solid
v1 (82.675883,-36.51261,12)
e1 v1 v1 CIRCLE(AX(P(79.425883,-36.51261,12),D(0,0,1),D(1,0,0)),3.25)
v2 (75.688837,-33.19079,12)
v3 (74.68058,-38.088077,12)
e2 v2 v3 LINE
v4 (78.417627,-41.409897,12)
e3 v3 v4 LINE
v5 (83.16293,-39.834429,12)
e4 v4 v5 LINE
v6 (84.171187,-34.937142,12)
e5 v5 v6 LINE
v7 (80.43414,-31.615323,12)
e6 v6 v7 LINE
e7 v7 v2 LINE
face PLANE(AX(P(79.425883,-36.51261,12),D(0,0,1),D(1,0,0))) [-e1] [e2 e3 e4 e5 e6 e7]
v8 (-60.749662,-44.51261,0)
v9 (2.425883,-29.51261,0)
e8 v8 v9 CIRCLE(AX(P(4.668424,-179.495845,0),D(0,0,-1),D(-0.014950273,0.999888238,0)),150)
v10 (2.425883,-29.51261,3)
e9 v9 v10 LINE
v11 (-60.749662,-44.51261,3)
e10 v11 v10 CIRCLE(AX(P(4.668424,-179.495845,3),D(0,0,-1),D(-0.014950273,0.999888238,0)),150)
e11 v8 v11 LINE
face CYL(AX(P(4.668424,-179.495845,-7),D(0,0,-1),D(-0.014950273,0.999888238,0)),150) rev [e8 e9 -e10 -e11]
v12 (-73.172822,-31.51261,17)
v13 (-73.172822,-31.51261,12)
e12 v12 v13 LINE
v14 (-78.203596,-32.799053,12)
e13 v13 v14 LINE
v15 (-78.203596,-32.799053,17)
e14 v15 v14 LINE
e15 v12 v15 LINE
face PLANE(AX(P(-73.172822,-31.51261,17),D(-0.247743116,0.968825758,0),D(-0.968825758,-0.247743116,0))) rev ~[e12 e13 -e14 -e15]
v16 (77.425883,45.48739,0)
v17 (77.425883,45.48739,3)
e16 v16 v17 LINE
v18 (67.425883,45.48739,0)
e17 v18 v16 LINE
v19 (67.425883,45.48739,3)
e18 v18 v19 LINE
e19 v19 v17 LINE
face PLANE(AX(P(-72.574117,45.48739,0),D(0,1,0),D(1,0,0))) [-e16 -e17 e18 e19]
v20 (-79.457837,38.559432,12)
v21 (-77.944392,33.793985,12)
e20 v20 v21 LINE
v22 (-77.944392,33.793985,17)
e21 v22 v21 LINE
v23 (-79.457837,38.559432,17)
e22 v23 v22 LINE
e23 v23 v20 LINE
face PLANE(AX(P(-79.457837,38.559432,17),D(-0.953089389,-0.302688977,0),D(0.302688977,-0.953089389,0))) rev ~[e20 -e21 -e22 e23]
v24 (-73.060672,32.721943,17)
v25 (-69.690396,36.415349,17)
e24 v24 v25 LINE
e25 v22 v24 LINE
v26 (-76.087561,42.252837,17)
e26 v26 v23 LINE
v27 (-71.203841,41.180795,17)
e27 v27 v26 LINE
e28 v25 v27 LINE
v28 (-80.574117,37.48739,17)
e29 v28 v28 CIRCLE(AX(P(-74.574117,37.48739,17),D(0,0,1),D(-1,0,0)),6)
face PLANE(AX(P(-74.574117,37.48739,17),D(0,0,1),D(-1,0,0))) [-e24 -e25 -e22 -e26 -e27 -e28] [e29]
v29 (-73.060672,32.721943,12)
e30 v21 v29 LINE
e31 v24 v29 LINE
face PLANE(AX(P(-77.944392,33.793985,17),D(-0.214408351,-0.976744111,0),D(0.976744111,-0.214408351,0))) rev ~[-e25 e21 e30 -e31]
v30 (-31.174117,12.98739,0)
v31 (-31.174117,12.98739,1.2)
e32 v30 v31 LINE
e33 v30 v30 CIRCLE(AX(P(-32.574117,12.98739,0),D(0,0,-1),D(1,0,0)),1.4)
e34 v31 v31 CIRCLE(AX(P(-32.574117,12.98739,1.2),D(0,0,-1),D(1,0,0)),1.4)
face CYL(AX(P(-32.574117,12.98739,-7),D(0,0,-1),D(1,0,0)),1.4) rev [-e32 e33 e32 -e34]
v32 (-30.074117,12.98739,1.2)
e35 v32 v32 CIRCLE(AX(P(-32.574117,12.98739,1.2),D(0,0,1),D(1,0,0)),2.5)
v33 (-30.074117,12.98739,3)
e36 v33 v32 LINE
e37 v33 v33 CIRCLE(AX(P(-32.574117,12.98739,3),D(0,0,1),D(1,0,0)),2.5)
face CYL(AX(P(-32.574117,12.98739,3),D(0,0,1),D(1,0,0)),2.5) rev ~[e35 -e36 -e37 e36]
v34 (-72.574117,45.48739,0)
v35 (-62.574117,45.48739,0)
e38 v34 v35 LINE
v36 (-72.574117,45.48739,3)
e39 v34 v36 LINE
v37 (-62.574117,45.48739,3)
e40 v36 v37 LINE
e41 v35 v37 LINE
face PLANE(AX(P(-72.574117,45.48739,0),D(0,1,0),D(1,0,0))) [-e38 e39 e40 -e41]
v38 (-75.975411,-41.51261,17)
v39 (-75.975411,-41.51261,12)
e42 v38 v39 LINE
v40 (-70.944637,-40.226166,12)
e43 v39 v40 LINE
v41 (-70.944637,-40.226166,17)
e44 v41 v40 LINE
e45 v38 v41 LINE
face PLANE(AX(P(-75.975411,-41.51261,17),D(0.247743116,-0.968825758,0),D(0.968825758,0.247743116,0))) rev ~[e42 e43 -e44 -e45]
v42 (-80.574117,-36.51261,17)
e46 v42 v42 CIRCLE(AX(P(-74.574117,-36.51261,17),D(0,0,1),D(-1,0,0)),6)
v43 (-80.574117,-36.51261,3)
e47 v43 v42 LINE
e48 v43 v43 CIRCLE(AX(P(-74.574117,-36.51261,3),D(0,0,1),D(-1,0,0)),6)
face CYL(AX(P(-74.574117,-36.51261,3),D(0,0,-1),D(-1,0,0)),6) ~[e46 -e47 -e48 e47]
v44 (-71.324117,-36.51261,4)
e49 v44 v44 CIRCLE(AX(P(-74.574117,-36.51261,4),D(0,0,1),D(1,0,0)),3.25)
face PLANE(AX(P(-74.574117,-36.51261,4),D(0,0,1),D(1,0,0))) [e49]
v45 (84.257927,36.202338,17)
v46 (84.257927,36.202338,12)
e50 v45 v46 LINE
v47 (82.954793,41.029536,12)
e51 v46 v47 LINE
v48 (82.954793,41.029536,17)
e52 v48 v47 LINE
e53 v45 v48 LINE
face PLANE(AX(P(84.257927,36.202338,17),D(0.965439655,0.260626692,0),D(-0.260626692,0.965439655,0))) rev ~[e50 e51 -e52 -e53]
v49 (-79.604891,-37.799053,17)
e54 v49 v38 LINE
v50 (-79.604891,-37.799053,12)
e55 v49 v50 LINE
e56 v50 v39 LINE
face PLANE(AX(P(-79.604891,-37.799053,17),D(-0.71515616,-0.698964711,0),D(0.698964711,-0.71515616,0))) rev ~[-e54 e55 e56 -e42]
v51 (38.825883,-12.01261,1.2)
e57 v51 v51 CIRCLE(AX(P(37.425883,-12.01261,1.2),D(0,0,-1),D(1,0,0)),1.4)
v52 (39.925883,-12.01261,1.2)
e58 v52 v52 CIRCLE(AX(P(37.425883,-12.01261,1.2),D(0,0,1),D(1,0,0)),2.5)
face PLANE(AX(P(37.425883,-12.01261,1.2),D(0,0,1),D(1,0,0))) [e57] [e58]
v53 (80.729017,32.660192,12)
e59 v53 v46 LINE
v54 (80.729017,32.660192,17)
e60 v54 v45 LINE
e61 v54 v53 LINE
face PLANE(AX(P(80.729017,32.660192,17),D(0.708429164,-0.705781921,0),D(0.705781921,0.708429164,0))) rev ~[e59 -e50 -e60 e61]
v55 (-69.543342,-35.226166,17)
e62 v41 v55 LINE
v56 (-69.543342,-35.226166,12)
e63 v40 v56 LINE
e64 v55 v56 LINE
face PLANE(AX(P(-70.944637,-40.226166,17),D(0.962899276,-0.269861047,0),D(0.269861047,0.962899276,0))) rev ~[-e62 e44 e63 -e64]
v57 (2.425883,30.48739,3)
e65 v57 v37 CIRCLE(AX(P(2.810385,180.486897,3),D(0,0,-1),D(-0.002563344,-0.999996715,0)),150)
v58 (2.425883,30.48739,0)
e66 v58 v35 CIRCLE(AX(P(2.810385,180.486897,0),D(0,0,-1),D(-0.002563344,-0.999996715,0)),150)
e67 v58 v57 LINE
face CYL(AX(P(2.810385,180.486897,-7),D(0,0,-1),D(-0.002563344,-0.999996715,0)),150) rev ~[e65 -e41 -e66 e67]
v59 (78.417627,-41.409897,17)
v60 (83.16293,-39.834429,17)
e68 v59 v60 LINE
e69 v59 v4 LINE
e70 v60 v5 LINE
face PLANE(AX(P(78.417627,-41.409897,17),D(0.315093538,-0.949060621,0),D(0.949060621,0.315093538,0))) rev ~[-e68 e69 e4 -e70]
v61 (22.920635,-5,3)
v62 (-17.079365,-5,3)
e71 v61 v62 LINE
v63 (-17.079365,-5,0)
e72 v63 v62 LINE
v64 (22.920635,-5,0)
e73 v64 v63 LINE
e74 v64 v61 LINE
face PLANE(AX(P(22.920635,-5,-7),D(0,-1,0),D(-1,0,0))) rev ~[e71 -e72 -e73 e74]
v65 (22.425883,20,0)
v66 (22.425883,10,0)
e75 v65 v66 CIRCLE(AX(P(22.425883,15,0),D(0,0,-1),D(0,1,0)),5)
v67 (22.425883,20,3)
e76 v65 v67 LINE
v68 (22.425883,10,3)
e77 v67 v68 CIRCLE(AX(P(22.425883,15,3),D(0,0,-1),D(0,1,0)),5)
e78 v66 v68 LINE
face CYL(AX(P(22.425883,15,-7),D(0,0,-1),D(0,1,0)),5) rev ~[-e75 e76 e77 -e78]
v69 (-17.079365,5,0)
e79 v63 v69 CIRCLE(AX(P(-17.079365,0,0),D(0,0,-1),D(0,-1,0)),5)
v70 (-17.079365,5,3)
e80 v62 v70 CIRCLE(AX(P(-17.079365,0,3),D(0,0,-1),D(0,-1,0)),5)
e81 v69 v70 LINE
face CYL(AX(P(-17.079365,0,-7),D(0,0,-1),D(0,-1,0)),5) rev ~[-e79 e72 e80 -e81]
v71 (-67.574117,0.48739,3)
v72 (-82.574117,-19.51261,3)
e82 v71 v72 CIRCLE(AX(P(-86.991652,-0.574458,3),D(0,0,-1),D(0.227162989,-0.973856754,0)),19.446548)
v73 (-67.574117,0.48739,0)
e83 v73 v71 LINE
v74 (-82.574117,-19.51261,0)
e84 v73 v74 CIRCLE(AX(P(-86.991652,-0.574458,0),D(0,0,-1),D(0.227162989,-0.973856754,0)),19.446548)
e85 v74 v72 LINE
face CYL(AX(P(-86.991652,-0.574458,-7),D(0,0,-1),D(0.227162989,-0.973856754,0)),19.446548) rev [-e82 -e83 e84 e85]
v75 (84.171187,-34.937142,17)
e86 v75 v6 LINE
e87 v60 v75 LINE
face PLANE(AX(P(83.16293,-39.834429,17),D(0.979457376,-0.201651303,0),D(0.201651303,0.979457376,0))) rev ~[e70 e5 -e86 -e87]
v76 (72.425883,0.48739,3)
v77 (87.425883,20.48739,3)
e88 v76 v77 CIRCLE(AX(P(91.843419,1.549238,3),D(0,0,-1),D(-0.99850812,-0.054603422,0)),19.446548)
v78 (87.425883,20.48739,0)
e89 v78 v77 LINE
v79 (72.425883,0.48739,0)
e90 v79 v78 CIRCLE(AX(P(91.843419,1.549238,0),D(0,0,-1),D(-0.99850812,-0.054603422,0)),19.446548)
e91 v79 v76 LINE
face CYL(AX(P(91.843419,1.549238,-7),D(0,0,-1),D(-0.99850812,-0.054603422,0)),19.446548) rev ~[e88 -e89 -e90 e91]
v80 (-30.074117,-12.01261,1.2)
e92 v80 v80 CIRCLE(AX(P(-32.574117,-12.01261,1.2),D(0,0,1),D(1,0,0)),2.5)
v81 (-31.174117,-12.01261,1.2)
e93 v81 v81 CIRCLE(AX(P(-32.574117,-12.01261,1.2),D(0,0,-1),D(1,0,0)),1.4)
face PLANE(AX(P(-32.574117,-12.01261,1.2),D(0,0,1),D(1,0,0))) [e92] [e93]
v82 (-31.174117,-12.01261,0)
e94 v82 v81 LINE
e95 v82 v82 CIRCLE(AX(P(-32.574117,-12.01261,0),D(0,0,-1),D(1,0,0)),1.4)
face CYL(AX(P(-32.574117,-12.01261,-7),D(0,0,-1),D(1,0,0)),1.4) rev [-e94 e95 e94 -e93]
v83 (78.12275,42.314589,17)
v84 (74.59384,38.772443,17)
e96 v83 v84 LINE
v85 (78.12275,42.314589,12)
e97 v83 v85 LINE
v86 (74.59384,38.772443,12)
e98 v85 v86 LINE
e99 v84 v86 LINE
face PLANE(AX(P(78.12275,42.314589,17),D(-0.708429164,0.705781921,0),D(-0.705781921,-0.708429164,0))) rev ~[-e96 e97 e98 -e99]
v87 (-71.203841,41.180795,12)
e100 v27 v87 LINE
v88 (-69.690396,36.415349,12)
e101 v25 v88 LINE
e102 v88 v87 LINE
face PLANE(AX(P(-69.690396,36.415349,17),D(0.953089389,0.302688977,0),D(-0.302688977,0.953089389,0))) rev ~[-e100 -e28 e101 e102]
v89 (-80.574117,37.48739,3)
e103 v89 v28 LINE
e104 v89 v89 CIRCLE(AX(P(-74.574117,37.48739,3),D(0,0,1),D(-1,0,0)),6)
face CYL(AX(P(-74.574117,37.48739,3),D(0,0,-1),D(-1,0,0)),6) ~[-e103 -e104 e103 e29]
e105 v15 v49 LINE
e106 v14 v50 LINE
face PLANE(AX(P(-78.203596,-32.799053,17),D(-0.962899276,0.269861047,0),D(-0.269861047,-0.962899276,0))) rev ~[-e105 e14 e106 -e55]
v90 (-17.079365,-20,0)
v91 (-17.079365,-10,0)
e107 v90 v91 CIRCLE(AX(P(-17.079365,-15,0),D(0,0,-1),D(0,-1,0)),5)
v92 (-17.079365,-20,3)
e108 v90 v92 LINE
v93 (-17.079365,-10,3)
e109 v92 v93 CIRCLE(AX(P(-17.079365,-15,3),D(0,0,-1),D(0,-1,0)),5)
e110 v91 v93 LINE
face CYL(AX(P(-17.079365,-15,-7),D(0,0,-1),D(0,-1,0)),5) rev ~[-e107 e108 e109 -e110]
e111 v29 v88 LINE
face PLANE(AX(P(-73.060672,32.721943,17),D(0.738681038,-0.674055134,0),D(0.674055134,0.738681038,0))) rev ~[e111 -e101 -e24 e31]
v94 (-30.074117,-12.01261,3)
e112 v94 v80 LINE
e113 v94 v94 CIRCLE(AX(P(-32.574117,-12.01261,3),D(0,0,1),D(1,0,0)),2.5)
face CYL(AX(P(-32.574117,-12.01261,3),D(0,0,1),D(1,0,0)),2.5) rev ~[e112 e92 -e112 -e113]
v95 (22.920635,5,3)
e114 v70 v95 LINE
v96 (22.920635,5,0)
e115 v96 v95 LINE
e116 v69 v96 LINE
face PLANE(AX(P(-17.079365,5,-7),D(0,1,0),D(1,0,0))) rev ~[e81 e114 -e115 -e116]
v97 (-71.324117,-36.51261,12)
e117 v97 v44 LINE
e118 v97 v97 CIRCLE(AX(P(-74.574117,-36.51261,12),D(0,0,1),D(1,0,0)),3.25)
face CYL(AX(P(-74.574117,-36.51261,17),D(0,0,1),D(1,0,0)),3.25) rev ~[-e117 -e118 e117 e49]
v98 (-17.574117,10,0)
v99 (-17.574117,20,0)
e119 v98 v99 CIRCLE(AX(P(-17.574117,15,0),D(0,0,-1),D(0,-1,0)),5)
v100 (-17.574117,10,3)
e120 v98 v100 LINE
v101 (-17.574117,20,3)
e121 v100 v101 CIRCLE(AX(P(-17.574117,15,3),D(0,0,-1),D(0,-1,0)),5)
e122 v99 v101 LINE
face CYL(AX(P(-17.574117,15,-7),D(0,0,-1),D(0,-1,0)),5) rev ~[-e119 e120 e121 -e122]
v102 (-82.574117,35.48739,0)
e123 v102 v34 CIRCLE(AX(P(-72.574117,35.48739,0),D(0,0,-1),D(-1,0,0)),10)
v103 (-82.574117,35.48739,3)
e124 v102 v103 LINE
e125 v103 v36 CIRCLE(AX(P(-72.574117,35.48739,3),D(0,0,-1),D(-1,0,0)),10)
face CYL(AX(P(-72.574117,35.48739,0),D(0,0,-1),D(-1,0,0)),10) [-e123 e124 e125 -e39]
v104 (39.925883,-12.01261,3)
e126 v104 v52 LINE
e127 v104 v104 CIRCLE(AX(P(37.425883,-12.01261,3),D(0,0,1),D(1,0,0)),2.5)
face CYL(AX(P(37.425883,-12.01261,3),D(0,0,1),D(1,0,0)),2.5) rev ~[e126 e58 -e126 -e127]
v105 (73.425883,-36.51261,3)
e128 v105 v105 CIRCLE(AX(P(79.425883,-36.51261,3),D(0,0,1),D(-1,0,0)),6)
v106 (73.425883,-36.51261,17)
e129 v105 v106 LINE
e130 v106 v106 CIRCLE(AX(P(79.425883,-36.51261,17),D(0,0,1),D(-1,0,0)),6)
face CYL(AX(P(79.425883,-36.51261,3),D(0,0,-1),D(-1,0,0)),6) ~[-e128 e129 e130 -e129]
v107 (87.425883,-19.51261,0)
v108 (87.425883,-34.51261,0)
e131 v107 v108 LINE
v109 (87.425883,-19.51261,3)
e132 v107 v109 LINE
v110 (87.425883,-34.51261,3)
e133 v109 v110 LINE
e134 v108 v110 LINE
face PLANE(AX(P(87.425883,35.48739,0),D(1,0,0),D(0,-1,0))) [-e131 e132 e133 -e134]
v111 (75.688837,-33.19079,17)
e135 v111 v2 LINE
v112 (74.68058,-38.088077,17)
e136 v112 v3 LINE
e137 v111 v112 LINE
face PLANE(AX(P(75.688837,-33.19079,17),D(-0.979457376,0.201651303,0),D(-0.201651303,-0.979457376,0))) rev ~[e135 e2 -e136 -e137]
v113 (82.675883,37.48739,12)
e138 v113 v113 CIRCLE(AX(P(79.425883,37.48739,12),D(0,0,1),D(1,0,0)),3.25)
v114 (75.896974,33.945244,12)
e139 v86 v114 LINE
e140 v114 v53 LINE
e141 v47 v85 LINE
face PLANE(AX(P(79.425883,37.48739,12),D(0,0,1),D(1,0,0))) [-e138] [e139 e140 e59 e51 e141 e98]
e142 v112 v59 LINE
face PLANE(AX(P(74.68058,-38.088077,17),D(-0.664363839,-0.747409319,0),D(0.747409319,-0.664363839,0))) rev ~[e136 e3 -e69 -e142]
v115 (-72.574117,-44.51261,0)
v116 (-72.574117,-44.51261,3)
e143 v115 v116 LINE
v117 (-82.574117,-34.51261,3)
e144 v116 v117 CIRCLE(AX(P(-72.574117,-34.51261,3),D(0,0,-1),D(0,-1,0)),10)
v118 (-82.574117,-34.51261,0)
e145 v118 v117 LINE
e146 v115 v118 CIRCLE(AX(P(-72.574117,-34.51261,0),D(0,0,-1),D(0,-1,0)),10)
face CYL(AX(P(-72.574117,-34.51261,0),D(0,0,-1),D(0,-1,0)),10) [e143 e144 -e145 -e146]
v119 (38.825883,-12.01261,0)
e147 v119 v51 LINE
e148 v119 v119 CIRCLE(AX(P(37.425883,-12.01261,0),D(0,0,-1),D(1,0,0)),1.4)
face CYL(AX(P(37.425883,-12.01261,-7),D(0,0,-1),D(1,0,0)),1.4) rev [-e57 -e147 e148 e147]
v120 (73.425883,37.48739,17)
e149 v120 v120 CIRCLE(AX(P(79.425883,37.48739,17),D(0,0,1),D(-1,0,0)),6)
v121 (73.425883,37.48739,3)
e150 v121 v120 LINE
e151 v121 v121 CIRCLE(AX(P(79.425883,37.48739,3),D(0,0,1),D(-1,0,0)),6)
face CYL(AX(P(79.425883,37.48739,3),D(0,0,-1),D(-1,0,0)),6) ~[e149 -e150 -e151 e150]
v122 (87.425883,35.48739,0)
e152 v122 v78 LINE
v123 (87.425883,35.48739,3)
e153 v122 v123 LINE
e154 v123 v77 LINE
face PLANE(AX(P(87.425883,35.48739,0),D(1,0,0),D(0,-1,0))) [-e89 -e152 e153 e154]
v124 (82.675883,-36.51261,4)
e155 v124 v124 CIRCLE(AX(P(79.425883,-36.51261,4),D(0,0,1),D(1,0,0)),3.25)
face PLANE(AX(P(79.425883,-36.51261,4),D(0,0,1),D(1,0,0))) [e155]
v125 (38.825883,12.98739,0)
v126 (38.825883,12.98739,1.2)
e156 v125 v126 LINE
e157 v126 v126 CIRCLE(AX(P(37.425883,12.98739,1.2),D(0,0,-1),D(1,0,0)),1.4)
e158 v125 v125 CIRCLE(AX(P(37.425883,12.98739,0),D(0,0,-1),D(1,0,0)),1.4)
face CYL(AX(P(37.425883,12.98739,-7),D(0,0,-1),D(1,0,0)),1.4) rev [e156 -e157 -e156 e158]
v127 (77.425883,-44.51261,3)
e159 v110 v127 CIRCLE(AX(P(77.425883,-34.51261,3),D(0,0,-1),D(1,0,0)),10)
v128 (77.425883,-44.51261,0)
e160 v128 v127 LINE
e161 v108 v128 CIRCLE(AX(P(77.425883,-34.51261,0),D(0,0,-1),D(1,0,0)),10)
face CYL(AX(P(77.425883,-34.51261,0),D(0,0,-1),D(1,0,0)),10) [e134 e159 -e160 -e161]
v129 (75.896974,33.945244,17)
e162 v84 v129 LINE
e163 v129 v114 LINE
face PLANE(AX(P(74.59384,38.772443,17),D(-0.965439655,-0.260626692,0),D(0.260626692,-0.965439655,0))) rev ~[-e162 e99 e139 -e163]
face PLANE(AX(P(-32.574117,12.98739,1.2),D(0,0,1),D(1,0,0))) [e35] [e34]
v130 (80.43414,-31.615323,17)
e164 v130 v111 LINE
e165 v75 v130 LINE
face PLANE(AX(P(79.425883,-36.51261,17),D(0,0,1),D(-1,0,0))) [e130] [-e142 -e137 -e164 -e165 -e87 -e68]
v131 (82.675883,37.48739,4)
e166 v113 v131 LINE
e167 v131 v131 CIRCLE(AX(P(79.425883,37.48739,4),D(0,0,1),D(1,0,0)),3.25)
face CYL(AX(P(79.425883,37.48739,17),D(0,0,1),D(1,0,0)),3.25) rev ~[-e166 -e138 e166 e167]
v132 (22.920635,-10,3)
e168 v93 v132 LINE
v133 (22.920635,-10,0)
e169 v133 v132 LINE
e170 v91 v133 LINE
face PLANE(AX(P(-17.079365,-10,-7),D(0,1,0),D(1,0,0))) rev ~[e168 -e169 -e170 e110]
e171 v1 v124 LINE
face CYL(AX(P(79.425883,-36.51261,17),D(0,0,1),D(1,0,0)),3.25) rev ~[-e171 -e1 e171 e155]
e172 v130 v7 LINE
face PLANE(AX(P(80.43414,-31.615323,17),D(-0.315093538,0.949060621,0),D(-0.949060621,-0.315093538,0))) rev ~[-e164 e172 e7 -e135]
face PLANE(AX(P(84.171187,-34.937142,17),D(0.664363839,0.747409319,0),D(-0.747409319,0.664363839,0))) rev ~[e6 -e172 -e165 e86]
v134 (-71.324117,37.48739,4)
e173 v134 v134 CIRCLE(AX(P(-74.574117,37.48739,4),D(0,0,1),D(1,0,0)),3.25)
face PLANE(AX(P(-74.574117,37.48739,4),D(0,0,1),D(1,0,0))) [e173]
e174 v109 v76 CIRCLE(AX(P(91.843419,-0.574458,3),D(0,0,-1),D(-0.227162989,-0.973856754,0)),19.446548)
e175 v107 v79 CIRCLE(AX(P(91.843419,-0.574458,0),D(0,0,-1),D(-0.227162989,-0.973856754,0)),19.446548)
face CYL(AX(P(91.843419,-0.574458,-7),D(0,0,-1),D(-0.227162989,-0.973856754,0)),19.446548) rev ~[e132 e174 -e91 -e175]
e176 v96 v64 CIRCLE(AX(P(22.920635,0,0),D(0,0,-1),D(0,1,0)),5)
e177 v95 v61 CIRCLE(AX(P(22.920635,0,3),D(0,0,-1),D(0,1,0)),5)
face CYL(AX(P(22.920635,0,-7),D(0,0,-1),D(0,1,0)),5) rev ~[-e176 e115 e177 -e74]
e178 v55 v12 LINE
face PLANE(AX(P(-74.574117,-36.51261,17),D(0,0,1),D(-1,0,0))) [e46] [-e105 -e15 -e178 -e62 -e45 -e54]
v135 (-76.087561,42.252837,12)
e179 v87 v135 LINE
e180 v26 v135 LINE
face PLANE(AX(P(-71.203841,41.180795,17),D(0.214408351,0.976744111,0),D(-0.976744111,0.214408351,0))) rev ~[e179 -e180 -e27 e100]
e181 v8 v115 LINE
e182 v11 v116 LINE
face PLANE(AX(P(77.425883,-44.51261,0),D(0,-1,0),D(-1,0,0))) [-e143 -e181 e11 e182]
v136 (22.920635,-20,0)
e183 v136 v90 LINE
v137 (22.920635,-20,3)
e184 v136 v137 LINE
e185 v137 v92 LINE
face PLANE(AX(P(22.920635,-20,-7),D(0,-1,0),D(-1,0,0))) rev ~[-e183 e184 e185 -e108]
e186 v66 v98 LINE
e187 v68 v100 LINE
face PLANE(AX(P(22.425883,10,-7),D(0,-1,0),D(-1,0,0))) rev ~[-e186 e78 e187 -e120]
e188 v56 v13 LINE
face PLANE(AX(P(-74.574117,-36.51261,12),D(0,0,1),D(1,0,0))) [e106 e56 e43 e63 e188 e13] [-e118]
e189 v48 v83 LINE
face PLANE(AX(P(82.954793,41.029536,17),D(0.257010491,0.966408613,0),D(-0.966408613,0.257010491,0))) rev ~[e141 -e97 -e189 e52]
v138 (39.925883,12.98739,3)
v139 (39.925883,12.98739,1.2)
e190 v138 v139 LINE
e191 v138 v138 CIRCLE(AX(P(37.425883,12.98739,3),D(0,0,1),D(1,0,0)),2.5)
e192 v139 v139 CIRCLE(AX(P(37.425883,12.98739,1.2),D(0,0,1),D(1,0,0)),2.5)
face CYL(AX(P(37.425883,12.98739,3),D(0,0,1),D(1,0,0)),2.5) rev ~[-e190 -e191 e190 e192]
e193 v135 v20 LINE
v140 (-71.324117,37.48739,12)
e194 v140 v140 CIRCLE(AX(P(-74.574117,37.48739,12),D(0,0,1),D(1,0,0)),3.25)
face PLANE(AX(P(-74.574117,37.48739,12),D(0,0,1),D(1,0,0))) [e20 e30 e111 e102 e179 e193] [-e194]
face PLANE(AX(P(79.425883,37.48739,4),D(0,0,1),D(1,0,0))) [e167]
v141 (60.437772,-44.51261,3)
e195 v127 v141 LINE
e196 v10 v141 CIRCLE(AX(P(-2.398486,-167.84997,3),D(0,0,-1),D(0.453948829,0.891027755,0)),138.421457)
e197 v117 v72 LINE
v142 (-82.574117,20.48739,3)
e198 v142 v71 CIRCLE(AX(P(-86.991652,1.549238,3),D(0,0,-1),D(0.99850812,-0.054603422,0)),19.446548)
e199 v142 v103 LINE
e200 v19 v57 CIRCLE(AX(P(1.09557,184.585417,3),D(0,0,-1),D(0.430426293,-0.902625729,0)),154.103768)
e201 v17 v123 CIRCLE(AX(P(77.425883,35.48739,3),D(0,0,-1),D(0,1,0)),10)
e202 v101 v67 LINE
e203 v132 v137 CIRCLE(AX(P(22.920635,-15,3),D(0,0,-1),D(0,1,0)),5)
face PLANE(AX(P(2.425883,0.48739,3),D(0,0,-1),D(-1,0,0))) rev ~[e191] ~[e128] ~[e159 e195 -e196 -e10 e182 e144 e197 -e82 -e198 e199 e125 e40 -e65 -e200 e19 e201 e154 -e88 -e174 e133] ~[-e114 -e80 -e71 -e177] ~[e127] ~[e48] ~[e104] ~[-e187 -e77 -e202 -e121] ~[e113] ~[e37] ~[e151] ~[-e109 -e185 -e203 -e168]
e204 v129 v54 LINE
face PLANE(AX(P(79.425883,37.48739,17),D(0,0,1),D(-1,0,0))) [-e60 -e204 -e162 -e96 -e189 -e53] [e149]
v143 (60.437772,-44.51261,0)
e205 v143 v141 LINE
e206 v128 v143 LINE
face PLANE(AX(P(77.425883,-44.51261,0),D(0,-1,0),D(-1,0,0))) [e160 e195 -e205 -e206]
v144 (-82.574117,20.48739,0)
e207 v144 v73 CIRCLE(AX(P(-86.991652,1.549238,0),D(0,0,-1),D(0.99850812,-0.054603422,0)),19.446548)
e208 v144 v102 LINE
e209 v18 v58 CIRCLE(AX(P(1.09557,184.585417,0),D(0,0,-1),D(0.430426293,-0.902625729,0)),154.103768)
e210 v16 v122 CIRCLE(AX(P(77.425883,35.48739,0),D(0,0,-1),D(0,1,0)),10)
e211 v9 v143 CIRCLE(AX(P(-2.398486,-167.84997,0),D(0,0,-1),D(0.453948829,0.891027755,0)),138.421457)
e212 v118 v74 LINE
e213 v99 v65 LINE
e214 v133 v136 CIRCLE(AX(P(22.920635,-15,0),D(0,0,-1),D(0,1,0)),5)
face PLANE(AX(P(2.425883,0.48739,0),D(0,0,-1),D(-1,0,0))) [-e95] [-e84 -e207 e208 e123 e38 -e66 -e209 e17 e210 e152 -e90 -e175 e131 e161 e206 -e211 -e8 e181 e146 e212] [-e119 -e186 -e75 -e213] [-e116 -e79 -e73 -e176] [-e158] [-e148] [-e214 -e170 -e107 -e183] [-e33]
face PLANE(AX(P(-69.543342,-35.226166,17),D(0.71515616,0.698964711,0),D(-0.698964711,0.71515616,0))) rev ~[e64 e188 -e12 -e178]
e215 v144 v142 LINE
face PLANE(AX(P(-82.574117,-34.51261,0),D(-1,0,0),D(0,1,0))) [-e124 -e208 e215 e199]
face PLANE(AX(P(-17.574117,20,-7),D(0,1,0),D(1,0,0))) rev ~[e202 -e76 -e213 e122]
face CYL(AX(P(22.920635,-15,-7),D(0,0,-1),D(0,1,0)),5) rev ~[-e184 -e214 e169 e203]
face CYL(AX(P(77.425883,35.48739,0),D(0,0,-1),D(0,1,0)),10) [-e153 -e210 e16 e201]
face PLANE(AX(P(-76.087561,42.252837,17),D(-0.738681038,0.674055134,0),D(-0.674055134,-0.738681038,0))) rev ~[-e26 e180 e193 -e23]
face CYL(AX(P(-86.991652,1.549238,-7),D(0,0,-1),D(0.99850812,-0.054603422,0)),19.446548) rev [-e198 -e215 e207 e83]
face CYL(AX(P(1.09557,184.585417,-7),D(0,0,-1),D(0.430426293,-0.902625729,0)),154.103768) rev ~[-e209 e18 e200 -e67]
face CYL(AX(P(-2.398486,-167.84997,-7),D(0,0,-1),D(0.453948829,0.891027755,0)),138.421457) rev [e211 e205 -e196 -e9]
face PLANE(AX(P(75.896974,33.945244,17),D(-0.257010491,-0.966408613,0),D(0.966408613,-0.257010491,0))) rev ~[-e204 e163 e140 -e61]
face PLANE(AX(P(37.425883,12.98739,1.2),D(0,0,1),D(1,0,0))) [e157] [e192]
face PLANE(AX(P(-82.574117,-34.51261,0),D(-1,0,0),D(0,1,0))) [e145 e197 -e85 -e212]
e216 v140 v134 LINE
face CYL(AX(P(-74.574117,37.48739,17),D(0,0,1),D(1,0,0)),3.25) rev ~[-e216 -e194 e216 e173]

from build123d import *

# Parameters (mm, degrees)
EXTRUDE_1_DEPTH          = 3
CUT_EXTRUDE_1_DEPTH      = 42
CUT_EXTRUDE_1_DEPTH_BACK = 10
SKETCH_2_R               = 1.4
SKETCH_3_R               = 2.5
CUT_EXTRUDE_2_DEPTH      = 1.8
SKETCH_7_R               = 6
EXTRUDE_4_DEPTH          = 14
BUTTON_LEFT_NUT_DEPTH    = 5
UP_LEFT_NUT_DEPTH        = 5
UP_RIGHT_NUT_DEPTH       = 5
BUTTON_RIGHT_NUT_DEPTH   = 5
SKETCH_13_R              = 3.25
CUT_EXTRUDE_7_DEPTH      = 13
SKETCH_15_R              = 3.25
CUT_EXTRUDE_8_DEPTH      = 13
SKETCH_16_R              = 3.25
CUT_EXTRUDE_9_DEPTH      = 13
SKETCH_17_R              = 3.25
CUT_EXTRUDE_10_DEPTH     = 13


with BuildPart() as part:
    # 草图1 → 凸台-拉伸1 (new body)
    with BuildSketch(Plane.XY):
        with BuildLine():
            Line((-72.574116531, 45.487390308), (77.425883469, 45.487390308))
            ThreePointArc((77.425883469, 45.487390308), (84.496951281, 42.558458119), (87.425883469, 35.487390308))
            Line((87.425883469, 35.487390308), (87.425883469, -34.512609692))
            ThreePointArc((87.425883469, -34.512609692), (84.496951281, -41.583677504), (77.425883469, -44.512609692))
            Line((77.425883469, -44.512609692), (-72.574116531, -44.512609692))
            ThreePointArc((-72.574116531, -44.512609692), (-79.645184343, -41.583677504), (-82.574116531, -34.512609692))
            Line((-82.574116531, -34.512609692), (-82.574116531, 35.487390308))
            ThreePointArc((-82.574116531, 35.487390308), (-79.645184343, 42.558458119), (-72.574116531, 45.487390308))
        make_face()
    extrude(amount=EXTRUDE_1_DEPTH)

    # 草图2 → 切除-拉伸1 (cut, two sides: drawn at the far end of the back side and taken through both)
    with BuildSketch(Plane.XY.offset(3).offset(-CUT_EXTRUDE_1_DEPTH_BACK)):
        with Locations((-32.574116531, 12.987390308)):
            Circle(SKETCH_2_R)
        with Locations((-32.574116531, -12.012609692)):
            Circle(SKETCH_2_R)
        with Locations((37.425883469, 12.987390308)):
            Circle(SKETCH_2_R)
        with Locations((37.425883469, -12.012609692)):
            Circle(SKETCH_2_R)
        with BuildLine():
            Line((-60.749662301, -44.512609692), (60.437772164, -44.512609692))
            ThreePointArc((60.437772164, -44.512609692), (32.253211404, -33.835942142), (2.425883469, -29.512609692))
            ThreePointArc((2.425883469, -29.512609692), (-29.983273004, -33.55318593), (-60.749662301, -44.512609692))
        make_face()
        with BuildLine():
            Line((-62.574116531, 45.487390308), (67.425883469, 45.487390308))
            ThreePointArc((67.425883469, 45.487390308), (35.747267057, 34.428061428), (2.425883469, 30.487390308))
            ThreePointArc((2.425883469, 30.487390308), (-30.918540876, 34.328218147), (-62.574116531, 45.487390308))
        make_face()
        with BuildLine():
            Line((87.425883469, 20.487390308), (87.425883469, -19.512609692))
            ThreePointArc((87.425883469, -19.512609692), (76.286181126, -12.242386449), (72.425883469, 0.487390308))
            ThreePointArc((72.425883469, 0.487390308), (76.286181126, 13.217167065), (87.425883469, 20.487390308))
        make_face()
        with BuildLine():
            Line((-82.574116531, 20.487390308), (-82.574116531, -19.512609692))
            ThreePointArc((-82.574116531, -19.512609692), (-71.434414188, -12.242386449), (-67.574116531, 0.487390308))
            ThreePointArc((-67.574116531, 0.487390308), (-71.434414188, 13.217167065), (-82.574116531, 20.487390308))
        make_face()
        with BuildLine():
            Line((-17.574116531, 20), (22.425883469, 20))
            ThreePointArc((22.425883469, 20), (27.425883469, 15), (22.425883469, 10))
            Line((22.425883469, 10), (-17.574116531, 10))
            ThreePointArc((-17.574116531, 10), (-22.574116531, 15), (-17.574116531, 20))
        make_face()
        with BuildLine():
            Line((-17.079364826, 5), (22.920635174, 5))
            ThreePointArc((22.920635174, 5), (27.920635174, 0), (22.920635174, -5))
            Line((22.920635174, -5), (-17.079364826, -5))
            ThreePointArc((-17.079364826, -5), (-22.079364826, 0), (-17.079364826, 5))
        make_face()
        with BuildLine():
            Line((-17.079364826, -10), (22.920635174, -10))
            ThreePointArc((22.920635174, -10), (27.920635174, -15), (22.920635174, -20))
            Line((22.920635174, -20), (-17.079364826, -20))
            ThreePointArc((-17.079364826, -20), (-22.079364826, -15), (-17.079364826, -10))
        make_face()
    extrude(amount=CUT_EXTRUDE_1_DEPTH + CUT_EXTRUDE_1_DEPTH_BACK, mode=Mode.SUBTRACT)

    # 草图3 → 切除-拉伸2 (cut)
    with BuildSketch(Plane.XY.offset(3)):
        with Locations((-32.574116531, 12.987390308)):
            Circle(SKETCH_3_R)
        with Locations((37.425883469, 12.987390308)):
            Circle(SKETCH_3_R)
        with Locations((37.425883469, -12.012609692)):
            Circle(SKETCH_3_R)
        with Locations((-32.574116531, -12.012609692)):
            Circle(SKETCH_3_R)
    extrude(amount=-CUT_EXTRUDE_2_DEPTH, mode=Mode.SUBTRACT)

    # 草图7 → 凸台-拉伸4 (add)
    with BuildSketch(Plane.XY.offset(3)):
        with Locations(Location((-74.574116531, 37.487390308, 0), (0, 0, 180))):
            Circle(SKETCH_7_R)
        with Locations(Location((-74.574116531, -36.512609692, 0), (0, 0, 180))):
            Circle(SKETCH_7_R)
        with Locations(Location((79.425883469, 37.487390308, 0), (0, 0, 180))):
            Circle(SKETCH_7_R)
        with Locations(Location((79.425883469, -36.512609692, 0), (0, 0, 180))):
            Circle(SKETCH_7_R)
    extrude(amount=EXTRUDE_4_DEPTH)

    # 草图9 → button left nut (cut)
    with BuildSketch(Plane.XY.offset(17)):
        Polygon((-70.944636645, -40.226166125), (-69.543342379, -35.226166125), (-73.172822265, -31.512609692), (-78.203596417, -32.79905326), (-79.604890683, -37.79905326), (-75.975410797, -41.512609692), align=None)
    extrude(amount=-BUTTON_LEFT_NUT_DEPTH, mode=Mode.SUBTRACT)

    # 草图10 → up left nut (cut)
    with BuildSketch(Plane.XY.offset(17)):
        Polygon((-73.060671646, 32.721943363), (-69.690395974, 36.415348553), (-71.203840859, 41.180795498), (-76.087561416, 42.252837252), (-79.457837088, 38.559432062), (-77.944392202, 33.793985117), align=None)
    extrude(amount=-UP_LEFT_NUT_DEPTH, mode=Mode.SUBTRACT)

    # 草图11 → up right nut (cut)
    with BuildSketch(Plane.XY.offset(17)):
        Polygon((80.72901693, 32.660192033), (84.257926534, 36.202337852), (82.954793074, 41.029536126), (78.122750008, 42.314588582), (74.593840404, 38.772442763), (75.896973864, 33.945244489), align=None)
    extrude(amount=-UP_RIGHT_NUT_DEPTH, mode=Mode.SUBTRACT)

    # 草图12 → button right nut (cut)
    with BuildSketch(Plane.XY.offset(17)):
        Polygon((83.162930062, -39.834428887), (84.171186575, -34.937142005), (80.434139981, -31.61532281), (75.688836876, -33.190790498), (74.680580363, -38.08807738), (78.417626957, -41.409896575), align=None)
    extrude(amount=-BUTTON_RIGHT_NUT_DEPTH, mode=Mode.SUBTRACT)

    # 草图13 → 切除-拉伸7 (cut)
    with BuildSketch(Plane.XY.offset(17)):
        with Locations((-74.574116531, -36.512609692)):
            Circle(SKETCH_13_R)
    extrude(amount=-CUT_EXTRUDE_7_DEPTH, mode=Mode.SUBTRACT)

    # 草图15 → 切除-拉伸8 (cut)
    with BuildSketch(Plane.XY.offset(17)):
        with Locations((-74.574116531, 37.487390308)):
            Circle(SKETCH_15_R)
    extrude(amount=-CUT_EXTRUDE_8_DEPTH, mode=Mode.SUBTRACT)

    # 草图16 → 切除-拉伸9 (cut)
    with BuildSketch(Plane.XY.offset(17)):
        with Locations((79.425883469, 37.487390308)):
            Circle(SKETCH_16_R)
    extrude(amount=-CUT_EXTRUDE_9_DEPTH, mode=Mode.SUBTRACT)

    # 草图17 → 切除-拉伸10 (cut)
    with BuildSketch(Plane.XY.offset(17)):
        with Locations((79.425883469, -36.512609692)):
            Circle(SKETCH_17_R)
    extrude(amount=-CUT_EXTRUDE_10_DEPTH, mode=Mode.SUBTRACT)


solid = part.part
